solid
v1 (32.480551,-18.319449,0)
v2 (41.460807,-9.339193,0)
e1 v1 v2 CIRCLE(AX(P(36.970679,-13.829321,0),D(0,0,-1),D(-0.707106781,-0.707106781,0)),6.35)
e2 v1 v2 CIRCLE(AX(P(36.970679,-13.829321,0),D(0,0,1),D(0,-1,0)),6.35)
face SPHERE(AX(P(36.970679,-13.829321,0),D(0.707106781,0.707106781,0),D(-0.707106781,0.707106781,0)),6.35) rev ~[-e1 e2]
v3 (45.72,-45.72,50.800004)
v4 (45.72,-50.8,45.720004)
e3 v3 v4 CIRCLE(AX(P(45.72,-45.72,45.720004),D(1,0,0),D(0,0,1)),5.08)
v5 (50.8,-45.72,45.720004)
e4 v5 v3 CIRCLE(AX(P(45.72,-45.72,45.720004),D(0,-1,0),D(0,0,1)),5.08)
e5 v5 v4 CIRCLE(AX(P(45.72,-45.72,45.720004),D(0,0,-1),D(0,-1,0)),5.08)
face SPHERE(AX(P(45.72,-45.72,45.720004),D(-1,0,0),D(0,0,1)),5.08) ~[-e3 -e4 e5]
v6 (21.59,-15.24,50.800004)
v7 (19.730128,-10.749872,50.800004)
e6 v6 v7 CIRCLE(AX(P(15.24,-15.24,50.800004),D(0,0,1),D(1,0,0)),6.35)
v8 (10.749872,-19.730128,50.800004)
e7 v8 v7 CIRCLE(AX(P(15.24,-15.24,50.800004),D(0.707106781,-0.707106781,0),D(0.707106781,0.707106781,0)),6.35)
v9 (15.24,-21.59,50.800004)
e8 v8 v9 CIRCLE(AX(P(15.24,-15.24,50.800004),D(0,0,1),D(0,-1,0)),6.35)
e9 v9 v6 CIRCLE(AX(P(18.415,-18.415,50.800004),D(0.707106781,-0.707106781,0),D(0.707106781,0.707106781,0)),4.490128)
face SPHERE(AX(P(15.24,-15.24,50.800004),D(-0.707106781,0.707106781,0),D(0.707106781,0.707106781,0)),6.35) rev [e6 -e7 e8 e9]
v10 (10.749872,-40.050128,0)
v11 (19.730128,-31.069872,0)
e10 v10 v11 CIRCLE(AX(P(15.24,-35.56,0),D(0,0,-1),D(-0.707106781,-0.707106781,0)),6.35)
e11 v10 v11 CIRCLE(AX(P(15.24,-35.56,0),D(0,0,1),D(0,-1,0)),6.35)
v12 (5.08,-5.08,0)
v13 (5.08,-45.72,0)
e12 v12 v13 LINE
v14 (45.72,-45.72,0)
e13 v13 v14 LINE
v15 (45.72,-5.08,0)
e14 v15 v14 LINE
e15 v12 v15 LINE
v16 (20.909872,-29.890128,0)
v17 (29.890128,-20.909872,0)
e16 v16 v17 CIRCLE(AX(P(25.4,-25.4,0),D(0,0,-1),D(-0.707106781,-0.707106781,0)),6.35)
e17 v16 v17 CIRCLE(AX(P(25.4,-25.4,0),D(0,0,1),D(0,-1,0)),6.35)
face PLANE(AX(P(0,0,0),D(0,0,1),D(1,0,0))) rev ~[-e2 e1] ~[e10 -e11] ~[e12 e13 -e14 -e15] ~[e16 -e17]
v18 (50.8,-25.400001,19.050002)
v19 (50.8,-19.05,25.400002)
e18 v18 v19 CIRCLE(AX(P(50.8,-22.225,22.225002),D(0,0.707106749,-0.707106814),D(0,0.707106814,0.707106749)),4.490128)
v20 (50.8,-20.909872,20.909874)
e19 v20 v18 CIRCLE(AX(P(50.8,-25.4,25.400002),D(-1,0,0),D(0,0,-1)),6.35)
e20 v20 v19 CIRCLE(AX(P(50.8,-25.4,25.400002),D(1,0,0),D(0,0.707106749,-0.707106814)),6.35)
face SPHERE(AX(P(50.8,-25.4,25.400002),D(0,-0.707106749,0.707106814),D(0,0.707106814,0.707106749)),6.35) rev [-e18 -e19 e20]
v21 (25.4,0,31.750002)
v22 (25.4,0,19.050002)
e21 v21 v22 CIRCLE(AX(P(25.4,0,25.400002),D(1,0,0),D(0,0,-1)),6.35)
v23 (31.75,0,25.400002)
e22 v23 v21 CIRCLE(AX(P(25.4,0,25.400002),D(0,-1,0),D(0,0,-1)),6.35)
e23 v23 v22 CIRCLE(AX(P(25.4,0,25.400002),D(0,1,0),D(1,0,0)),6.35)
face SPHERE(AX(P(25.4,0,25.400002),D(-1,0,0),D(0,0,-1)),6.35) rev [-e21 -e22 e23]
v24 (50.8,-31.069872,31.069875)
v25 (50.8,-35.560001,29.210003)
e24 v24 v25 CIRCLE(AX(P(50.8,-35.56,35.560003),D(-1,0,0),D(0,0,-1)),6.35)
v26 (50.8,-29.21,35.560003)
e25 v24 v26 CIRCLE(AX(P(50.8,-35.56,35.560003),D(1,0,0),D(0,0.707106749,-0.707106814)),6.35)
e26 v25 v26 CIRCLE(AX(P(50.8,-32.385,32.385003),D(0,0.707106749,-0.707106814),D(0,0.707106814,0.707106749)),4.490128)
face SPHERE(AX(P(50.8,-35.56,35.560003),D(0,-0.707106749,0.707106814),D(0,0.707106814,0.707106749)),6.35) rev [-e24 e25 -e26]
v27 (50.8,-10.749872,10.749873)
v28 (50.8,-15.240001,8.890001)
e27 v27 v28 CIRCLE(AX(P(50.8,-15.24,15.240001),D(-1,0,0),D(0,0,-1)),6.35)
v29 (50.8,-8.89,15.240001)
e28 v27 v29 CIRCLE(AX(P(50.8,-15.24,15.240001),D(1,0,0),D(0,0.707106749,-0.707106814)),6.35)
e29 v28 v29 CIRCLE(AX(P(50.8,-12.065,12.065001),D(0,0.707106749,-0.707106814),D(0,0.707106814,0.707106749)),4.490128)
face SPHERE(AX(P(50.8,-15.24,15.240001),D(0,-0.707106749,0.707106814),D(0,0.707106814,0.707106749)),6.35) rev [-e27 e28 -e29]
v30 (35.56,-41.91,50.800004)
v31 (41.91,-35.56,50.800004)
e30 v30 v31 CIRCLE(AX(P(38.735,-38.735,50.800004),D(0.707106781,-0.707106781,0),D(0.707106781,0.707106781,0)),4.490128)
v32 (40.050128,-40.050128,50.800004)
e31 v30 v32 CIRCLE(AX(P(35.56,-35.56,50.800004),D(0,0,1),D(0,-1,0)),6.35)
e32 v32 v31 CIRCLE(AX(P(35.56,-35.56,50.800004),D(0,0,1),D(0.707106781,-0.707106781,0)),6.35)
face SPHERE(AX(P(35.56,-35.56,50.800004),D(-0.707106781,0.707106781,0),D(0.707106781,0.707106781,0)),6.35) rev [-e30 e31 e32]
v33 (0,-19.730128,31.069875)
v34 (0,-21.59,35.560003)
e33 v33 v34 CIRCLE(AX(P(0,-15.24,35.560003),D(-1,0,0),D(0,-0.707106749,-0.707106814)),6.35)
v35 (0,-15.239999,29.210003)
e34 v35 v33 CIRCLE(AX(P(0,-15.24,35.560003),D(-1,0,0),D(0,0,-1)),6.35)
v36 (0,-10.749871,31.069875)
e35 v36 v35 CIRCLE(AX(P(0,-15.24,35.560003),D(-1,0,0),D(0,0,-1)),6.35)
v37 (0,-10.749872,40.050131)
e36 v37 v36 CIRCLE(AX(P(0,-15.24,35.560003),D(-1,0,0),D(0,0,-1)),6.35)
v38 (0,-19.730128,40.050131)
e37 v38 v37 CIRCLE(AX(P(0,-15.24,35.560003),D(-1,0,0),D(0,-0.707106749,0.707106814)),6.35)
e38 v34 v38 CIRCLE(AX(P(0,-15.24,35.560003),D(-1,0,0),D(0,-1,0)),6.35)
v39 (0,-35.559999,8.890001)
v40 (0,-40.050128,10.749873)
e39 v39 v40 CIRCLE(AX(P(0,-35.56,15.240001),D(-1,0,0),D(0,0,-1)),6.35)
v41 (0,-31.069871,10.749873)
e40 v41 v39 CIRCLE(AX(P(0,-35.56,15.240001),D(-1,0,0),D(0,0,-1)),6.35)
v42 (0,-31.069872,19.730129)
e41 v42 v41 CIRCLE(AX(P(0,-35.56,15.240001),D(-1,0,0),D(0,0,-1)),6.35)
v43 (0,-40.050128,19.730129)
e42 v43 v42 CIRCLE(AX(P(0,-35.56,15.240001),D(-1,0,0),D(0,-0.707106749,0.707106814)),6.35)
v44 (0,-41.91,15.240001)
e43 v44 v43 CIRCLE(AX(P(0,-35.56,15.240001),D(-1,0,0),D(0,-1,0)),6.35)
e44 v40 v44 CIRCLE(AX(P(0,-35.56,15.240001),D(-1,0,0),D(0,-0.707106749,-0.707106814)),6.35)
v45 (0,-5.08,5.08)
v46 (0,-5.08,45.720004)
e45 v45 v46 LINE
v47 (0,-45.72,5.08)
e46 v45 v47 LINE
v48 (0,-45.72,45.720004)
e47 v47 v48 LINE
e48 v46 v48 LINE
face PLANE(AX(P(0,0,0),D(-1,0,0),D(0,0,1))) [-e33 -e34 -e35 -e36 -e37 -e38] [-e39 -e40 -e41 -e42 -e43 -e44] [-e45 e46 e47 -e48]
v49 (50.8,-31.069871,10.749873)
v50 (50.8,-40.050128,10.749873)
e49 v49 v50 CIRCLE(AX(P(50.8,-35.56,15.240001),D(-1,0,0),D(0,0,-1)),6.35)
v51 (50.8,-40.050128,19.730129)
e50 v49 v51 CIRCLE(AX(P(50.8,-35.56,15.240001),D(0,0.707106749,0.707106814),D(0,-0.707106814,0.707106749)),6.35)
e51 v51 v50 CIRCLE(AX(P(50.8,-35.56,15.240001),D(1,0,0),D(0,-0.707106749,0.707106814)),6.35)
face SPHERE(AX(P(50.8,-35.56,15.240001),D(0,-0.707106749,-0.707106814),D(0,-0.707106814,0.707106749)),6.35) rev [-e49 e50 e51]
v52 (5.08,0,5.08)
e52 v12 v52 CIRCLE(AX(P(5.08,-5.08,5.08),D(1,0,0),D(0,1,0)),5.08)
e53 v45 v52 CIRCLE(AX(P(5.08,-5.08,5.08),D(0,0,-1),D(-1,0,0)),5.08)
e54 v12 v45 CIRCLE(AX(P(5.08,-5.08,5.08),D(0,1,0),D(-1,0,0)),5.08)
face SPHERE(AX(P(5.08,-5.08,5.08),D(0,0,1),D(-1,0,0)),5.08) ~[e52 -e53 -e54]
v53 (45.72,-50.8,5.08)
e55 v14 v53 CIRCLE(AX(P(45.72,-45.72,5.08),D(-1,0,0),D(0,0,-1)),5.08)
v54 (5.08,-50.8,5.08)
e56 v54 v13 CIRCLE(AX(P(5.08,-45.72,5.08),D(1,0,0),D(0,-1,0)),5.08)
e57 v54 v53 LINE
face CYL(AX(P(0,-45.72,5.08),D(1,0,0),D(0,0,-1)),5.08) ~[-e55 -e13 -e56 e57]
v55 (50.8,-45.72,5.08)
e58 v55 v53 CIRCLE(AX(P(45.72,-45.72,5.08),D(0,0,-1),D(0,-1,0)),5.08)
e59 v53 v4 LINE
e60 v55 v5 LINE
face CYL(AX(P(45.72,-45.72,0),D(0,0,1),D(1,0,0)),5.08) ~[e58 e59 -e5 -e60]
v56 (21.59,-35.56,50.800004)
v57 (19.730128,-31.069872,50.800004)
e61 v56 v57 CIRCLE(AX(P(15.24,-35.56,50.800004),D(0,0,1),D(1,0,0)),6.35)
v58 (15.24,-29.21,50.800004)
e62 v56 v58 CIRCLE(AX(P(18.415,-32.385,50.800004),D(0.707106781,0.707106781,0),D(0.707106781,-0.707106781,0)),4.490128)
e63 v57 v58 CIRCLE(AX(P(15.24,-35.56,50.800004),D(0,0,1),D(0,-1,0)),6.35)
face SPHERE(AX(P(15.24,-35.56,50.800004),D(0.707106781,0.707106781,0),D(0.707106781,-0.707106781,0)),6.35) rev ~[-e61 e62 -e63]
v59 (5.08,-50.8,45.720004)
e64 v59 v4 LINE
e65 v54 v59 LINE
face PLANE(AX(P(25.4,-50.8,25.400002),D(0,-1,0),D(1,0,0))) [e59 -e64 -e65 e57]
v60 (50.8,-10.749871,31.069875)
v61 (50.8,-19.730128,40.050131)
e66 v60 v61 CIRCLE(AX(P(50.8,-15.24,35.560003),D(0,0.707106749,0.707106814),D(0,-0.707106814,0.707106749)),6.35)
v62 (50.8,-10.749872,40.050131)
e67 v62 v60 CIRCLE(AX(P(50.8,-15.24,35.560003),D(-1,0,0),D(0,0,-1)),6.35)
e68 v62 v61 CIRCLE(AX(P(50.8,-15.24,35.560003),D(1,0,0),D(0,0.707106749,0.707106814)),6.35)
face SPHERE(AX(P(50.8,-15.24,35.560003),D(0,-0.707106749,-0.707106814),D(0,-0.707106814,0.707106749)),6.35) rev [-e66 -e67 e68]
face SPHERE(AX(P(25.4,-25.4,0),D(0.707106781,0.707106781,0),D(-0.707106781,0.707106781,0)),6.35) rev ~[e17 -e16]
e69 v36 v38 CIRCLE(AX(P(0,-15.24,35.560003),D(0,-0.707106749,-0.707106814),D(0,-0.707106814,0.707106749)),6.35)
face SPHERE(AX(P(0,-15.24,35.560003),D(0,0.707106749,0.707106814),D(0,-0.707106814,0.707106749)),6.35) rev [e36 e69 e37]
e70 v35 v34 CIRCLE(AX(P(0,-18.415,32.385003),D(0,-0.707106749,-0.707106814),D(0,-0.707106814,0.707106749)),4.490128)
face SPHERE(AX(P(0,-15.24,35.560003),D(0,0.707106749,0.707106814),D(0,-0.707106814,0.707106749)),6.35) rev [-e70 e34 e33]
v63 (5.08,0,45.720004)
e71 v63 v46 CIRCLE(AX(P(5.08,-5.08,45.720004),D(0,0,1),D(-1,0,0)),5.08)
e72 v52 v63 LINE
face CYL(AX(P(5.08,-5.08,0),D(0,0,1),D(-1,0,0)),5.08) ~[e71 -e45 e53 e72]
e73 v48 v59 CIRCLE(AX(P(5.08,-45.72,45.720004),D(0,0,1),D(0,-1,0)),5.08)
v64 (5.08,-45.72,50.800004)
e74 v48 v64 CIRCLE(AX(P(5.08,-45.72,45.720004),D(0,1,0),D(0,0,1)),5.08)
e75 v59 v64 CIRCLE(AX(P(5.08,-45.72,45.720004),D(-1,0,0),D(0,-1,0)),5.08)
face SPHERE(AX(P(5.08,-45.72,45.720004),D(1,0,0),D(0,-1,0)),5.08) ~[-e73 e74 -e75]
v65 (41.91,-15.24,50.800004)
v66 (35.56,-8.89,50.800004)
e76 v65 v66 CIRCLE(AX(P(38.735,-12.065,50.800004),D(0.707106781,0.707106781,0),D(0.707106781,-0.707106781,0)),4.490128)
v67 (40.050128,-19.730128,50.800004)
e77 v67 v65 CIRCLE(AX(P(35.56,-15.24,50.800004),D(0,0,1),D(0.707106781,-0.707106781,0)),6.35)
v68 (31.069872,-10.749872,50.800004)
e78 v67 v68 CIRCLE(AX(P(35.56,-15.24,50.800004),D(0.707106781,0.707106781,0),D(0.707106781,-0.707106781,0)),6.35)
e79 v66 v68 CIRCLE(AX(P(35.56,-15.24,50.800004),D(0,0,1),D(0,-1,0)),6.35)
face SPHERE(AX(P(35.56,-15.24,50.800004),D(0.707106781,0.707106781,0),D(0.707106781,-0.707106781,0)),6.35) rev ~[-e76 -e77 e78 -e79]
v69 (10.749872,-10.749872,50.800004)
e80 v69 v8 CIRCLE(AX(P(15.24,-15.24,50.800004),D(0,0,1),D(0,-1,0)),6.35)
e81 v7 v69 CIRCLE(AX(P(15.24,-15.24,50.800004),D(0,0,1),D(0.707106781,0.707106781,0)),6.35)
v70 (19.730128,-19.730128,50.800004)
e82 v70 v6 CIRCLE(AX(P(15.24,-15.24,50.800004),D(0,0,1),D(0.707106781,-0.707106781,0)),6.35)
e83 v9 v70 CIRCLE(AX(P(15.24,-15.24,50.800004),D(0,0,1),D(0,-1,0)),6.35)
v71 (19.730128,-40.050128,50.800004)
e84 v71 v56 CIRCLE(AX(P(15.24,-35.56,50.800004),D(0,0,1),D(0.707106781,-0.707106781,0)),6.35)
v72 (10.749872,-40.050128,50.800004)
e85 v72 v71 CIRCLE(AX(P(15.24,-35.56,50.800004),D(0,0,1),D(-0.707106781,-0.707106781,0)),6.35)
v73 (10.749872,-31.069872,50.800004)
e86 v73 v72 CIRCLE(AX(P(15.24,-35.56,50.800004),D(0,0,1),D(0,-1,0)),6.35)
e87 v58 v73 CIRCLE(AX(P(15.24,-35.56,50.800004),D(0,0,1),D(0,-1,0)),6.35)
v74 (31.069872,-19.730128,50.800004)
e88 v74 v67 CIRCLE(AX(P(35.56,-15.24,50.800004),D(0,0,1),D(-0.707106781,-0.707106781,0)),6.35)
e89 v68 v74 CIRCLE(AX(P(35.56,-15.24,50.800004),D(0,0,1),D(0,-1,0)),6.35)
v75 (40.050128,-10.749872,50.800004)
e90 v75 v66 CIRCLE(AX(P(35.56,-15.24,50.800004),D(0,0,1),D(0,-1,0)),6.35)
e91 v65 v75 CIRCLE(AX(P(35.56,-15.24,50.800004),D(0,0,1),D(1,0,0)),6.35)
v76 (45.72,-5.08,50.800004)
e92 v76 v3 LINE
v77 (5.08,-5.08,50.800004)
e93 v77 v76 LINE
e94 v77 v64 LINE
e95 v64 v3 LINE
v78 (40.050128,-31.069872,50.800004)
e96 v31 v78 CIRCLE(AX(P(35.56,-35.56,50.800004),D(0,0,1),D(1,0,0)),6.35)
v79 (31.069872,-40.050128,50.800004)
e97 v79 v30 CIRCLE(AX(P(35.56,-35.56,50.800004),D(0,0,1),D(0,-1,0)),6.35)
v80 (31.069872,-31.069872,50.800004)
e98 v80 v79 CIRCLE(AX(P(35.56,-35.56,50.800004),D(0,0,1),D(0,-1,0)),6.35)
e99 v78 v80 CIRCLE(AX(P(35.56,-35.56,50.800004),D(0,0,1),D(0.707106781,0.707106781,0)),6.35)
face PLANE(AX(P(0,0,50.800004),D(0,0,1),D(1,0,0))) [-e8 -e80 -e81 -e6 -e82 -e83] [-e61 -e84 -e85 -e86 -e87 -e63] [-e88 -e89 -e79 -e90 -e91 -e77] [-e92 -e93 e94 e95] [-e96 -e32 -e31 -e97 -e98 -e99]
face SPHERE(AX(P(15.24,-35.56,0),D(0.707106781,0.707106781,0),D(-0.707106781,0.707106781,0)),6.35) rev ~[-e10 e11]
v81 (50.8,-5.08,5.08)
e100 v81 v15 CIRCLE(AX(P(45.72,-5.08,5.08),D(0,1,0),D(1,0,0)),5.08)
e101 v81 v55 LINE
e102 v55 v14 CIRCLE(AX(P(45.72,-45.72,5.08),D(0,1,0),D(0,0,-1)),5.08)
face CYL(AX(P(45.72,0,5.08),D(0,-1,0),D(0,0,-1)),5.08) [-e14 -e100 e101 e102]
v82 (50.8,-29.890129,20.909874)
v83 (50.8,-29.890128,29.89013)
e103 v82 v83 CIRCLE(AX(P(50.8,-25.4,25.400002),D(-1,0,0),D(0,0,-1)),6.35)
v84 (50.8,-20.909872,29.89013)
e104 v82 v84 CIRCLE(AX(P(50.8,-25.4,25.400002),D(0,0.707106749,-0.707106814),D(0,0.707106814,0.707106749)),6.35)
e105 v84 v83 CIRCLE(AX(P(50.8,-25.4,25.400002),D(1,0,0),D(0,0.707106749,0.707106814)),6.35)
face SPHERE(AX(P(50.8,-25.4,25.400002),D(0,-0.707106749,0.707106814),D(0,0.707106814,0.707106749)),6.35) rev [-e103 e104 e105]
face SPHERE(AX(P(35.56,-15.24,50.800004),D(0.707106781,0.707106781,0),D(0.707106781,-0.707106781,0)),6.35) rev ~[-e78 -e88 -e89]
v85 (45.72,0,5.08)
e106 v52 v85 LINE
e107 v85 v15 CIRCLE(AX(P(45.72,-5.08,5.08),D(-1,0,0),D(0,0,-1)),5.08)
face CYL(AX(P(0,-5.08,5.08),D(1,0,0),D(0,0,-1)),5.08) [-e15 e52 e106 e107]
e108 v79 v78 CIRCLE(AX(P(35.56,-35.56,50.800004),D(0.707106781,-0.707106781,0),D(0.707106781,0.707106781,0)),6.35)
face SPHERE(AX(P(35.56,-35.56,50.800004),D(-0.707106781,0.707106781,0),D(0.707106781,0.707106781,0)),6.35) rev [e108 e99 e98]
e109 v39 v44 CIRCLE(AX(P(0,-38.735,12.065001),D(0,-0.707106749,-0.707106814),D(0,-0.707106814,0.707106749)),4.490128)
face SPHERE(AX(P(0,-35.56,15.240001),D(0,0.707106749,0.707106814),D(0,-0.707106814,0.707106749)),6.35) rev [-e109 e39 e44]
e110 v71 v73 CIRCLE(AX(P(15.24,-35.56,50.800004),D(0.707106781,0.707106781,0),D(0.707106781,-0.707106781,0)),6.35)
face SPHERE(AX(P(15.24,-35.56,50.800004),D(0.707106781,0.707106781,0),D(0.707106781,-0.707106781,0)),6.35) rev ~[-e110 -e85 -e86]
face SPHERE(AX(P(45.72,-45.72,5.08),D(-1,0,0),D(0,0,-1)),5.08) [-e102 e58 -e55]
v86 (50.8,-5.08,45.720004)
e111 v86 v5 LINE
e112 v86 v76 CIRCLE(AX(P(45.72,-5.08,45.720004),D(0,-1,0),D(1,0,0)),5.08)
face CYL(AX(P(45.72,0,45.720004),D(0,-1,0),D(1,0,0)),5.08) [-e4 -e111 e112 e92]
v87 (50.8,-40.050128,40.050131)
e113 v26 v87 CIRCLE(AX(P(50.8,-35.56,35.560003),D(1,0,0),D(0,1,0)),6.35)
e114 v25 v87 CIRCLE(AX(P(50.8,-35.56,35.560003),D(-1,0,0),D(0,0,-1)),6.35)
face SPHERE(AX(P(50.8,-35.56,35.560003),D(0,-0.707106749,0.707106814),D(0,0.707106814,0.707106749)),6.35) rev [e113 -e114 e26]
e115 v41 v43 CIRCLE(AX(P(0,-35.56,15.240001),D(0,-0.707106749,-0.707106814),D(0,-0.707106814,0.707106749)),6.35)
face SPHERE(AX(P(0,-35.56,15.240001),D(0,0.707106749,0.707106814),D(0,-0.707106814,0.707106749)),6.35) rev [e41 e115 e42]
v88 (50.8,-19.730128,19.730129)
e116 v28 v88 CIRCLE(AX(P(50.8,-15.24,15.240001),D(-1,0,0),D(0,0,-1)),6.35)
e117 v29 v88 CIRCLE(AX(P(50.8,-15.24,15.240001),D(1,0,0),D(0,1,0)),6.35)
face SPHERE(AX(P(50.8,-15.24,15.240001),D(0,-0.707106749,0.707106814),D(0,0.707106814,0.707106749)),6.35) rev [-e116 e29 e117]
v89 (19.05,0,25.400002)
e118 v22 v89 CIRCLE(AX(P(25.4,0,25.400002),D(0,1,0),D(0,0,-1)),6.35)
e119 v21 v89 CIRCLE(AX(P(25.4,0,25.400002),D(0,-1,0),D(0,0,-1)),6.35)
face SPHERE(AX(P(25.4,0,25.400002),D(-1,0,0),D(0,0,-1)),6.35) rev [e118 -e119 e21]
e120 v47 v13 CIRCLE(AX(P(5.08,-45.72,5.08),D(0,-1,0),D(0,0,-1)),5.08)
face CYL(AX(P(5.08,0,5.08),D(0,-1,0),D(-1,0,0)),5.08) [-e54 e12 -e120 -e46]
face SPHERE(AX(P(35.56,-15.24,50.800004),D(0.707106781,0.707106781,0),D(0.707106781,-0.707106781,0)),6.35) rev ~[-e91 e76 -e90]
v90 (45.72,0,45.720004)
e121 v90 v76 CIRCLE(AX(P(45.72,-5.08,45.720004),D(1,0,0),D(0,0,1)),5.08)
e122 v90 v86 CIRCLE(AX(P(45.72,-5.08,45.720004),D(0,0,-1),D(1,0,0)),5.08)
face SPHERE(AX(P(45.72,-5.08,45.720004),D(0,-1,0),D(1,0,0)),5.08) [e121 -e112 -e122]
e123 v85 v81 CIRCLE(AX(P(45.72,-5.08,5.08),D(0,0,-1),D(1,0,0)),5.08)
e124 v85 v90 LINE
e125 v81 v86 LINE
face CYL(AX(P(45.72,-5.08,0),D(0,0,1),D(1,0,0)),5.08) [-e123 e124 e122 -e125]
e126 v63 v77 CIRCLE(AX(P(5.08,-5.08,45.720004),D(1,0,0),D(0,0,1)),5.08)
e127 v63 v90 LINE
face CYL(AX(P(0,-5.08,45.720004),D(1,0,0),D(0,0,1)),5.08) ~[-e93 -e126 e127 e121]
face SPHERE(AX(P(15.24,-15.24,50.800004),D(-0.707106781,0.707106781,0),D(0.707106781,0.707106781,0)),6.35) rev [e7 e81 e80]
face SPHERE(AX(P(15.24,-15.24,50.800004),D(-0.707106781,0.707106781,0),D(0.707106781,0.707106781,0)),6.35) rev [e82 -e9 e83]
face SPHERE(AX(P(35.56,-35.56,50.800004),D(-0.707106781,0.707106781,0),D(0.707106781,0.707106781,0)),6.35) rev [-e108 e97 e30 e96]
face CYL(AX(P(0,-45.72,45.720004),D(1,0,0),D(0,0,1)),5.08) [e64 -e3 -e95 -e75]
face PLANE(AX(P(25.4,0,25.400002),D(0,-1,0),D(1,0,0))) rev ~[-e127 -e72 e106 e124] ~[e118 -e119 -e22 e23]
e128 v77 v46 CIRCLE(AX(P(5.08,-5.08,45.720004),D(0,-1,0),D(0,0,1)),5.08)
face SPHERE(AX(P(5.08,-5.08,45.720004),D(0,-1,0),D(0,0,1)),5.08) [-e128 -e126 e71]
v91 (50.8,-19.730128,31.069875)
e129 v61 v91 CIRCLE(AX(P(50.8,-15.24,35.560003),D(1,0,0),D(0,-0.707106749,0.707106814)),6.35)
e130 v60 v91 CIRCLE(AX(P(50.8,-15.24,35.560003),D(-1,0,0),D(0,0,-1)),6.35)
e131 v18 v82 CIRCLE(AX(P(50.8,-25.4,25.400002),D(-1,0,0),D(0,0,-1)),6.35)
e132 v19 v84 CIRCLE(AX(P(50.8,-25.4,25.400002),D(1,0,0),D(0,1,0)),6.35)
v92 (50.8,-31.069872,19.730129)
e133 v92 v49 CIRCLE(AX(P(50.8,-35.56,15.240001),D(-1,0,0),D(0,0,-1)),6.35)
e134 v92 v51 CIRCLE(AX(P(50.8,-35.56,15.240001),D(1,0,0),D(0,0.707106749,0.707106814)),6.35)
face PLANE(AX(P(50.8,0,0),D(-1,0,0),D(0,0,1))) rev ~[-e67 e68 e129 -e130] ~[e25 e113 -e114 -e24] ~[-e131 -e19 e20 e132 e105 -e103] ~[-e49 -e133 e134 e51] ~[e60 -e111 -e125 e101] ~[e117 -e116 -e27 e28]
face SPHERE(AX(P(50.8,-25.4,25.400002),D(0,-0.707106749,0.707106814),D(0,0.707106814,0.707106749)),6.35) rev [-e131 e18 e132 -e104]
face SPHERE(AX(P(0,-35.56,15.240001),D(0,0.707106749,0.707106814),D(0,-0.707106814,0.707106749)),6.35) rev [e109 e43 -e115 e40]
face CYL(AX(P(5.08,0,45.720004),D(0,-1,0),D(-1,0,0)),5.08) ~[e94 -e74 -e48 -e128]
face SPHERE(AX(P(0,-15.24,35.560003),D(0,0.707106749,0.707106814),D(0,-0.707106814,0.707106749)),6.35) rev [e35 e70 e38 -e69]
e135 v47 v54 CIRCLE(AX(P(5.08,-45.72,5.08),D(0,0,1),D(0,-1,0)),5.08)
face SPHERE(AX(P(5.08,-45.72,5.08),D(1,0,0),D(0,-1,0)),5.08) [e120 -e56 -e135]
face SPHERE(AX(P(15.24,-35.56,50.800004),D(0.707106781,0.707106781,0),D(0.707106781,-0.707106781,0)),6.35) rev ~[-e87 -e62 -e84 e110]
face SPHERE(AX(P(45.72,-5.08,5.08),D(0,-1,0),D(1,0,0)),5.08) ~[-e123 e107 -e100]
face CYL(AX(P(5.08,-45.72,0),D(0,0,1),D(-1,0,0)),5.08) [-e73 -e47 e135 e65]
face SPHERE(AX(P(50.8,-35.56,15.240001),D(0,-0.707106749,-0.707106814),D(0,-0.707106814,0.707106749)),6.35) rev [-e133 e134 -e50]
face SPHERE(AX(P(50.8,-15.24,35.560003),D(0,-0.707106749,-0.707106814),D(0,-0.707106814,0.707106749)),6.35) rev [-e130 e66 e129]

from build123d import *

# Parameters (mm, degrees)
F0_W     = 50.8
F0_H     = 50.8000037277
F1_DEPTH = 50.8
F2_R     = 5.08


with BuildPart() as f1:
    # F0 (on Front) → F1 (new body)
    with BuildSketch(Plane.XZ):
        with Locations((25.4, 25.4000018639)):
            Rectangle(F0_W, F0_H)
    extrude(amount=F1_DEPTH)

    # F2
    f2_edges = [f1.edges().sort_by_distance(p)[0] for p in [
        (25.4, -50.8, 50.800004),
        (50.8, -25.4, 50.800004),
        (25.4, -50.8, 0),
        (50.8, -25.4, 0),
        (50.8, -50.8, 25.400002),
        (50.8, 0, 25.400002),
        (0, -50.8, 25.400002),
        (0, -25.4, 50.800004),
        (25.4, 0, 50.800004),
        (0, 0, 25.400002),
        (0, -25.4, 0),
        (25.4, 0, 0),
    ]]
    fillet(f2_edges, radius=F2_R)

    # F4 (on face) → F5 (revolve, cut)
    with BuildSketch(Plane(origin=(0, 0, 0), x_dir=(0, -1, 0), z_dir=(-1, 0, 0))):
        with BuildLine():
            ThreePointArc((19.7301278546, 40.0501310623), (15.24, 41.9100027958), (10.7498721454, 40.0501310623))
            Line((10.7498721454, 40.0501310623), (15.24, 35.5600027958))
            Line((15.24, 35.5600027958), (19.7301278546, 40.0501310623))
        make_face()
        with BuildLine():
            Line((19.7301278546, 40.0501310623), (15.24, 35.5600027958))
            Line((15.24, 35.5600027958), (19.7301278546, 31.0698745293))
            ThreePointArc((19.7301278546, 31.0698745293), (21.1066349757, 33.1299628658), (21.59, 35.5600027958))
            ThreePointArc((21.59, 35.5600027958), (21.1066349757, 37.9900427259), (19.7301278546, 40.0501310623))
        make_face()
        with BuildLine():
            ThreePointArc((40.0501278546, 19.7301291984), (35.56, 21.5900009319), (31.0698721454, 19.7301291984))
            Line((31.0698721454, 19.7301291984), (35.56, 15.2400009319))
            Line((35.56, 15.2400009319), (40.0501278546, 19.7301291984))
        make_face()
        with BuildLine():
            Line((40.0501278546, 19.7301291984), (35.56, 15.2400009319))
            Line((35.56, 15.2400009319), (40.0501278546, 10.7498726655))
            ThreePointArc((40.0501278546, 10.7498726655), (41.4266349757, 12.8099610019), (41.91, 15.2400009319))
            ThreePointArc((41.91, 15.2400009319), (41.4266349757, 17.670040862), (40.0501278546, 19.7301291984))
        make_face()
    revolve(axis=Axis((0, -25.4, 25.4000018639), (0, -0.7071067488, -0.7071068136)), mode=Mode.SUBTRACT)

    # F6 (on face) → F7 (revolve, cut)
    with BuildSketch(Plane(origin=(0, 0, 0), x_dir=(1, 0, 0), z_dir=(0, 0, -1))):
        with BuildLine():
            Line((19.7301280605, 31.0698719395), (10.7498719395, 40.0501280605))
            ThreePointArc((10.7498719395, 40.0501280605), (10.7498719395, 31.0698719395), (19.7301280605, 31.0698719395))
        make_face()
        with BuildLine():
            Line((29.8901280605, 20.9098719395), (20.9098719395, 29.8901280605))
            ThreePointArc((20.9098719395, 29.8901280605), (20.9098719395, 20.9098719395), (29.8901280605, 20.9098719395))
        make_face()
        with BuildLine():
            ThreePointArc((32.4805509633, 18.3194490367), (32.4805509633, 9.3391929156), (41.4608070844, 9.3391929156))
            Line((41.4608070844, 9.3391929156), (32.4805509633, 18.3194490367))
        make_face()
    revolve(axis=Axis((25.4, -25.4, 0), (0.7071067812, 0.7071067812, 0)), mode=Mode.SUBTRACT)

    # F8 (on face) → F9 (revolve, cut)
    with BuildSketch(Plane.XY.offset(50.8000037277)):
        with BuildLine():
            ThreePointArc((19.7301280605, -10.7498719395), (15.24, -8.89), (10.7498719395, -10.7498719395))
            Line((10.7498719395, -10.7498719395), (15.24, -15.24))
            Line((15.24, -15.24), (19.7301280605, -10.7498719395))
        make_face()
        with BuildLine():
            Line((19.7301280605, -10.7498719395), (15.24, -15.24))
            Line((15.24, -15.24), (19.7301280605, -19.7301280605))
            ThreePointArc((19.7301280605, -19.7301280605), (21.1066350314, -17.6700397955), (21.59, -15.24))
            ThreePointArc((21.59, -15.24), (21.1066350314, -12.8099602045), (19.7301280605, -10.7498719395))
        make_face()
        with BuildLine():
            ThreePointArc((40.0501280605, -31.0698719395), (35.56, -29.21), (31.0698719395, -31.0698719395))
            Line((31.0698719395, -31.0698719395), (35.56, -35.56))
            Line((35.56, -35.56), (40.0501280605, -31.0698719395))
        make_face()
        with BuildLine():
            Line((40.0501280605, -31.0698719395), (35.56, -35.56))
            Line((35.56, -35.56), (40.0501280605, -40.0501280605))
            ThreePointArc((40.0501280605, -40.0501280605), (41.4266350314, -37.9900397955), (41.91, -35.56))
            ThreePointArc((41.91, -35.56), (41.4266350314, -33.1299602045), (40.0501280605, -31.0698719395))
        make_face()
    revolve(axis=Axis((25.4, -25.4, 50.8000037277), (0.7071067812, -0.7071067812, 0)), mode=Mode.SUBTRACT)

    # F10 (on face) → F11 (revolve, cut)
    with BuildSketch(Plane(origin=(0, 0, 0), x_dir=(-1, 0, 0), z_dir=(0, 1, 0))):
        with BuildLine():
            Line((-19.05, 25.4000018639), (-31.75, 25.4000018639))
            ThreePointArc((-31.75, 25.4000018639), (-29.8901280605, 20.9098738033), (-25.4, 19.0500018639))
            ThreePointArc((-25.4, 19.0500018639), (-20.9098719395, 20.9098738033), (-19.05, 25.4000018639))
        make_face()
    revolve(axis=Axis((25.4, 0, 25.4000018639), (1, 0, 0)), mode=Mode.SUBTRACT)

    # F12 (on face) → F13 (revolve, cut)
    with BuildSketch(Plane.YZ.offset(50.8)):
        with BuildLine():
            ThreePointArc((-29.21, 35.5600027958), (-33.12996007, 41.4266377715), (-40.0501278546, 40.0501310623))
            Line((-40.0501278546, 40.0501310623), (-31.0698721454, 31.0698745293))
            ThreePointArc((-31.0698721454, 31.0698745293), (-29.6933650243, 33.1299628658), (-29.21, 35.5600027958))
        make_face()
        with BuildLine():
            ThreePointArc((-20.9098721454, 29.8901301303), (-25.4, 31.7500018639), (-29.8901278546, 29.8901301303))
            Line((-29.8901278546, 29.8901301303), (-25.4, 25.4000018639))
            Line((-25.4, 25.4000018639), (-20.9098721454, 29.8901301303))
        make_face()
        with BuildLine():
            Line((-20.9098721454, 29.8901301303), (-25.4, 25.4000018639))
            Line((-25.4, 25.4000018639), (-20.9098721454, 20.9098735974))
            ThreePointArc((-20.9098721454, 20.9098735974), (-19.5333650243, 22.9699619338), (-19.05, 25.4000018639))
            ThreePointArc((-19.05, 25.4000018639), (-19.5333650243, 27.8300417939), (-20.9098721454, 29.8901301303))
        make_face()
        with BuildLine():
            Line((-19.7301278546, 19.7301291984), (-10.7498721454, 10.7498726655))
            ThreePointArc((-10.7498721454, 10.7498726655), (-9.3733650243, 12.8099610019), (-8.89, 15.2400009319))
            ThreePointArc((-8.89, 15.2400009319), (-12.80996007, 21.1066359077), (-19.7301278546, 19.7301291984))
        make_face()
    revolve(axis=Axis((50.8, -25.4, 25.4000018639), (0, 0.7071067488, -0.7071068136)), mode=Mode.SUBTRACT)

    # F14 (on face) → F15 (revolve, cut)
    with BuildSketch(Plane.YZ.offset(50.8)):
        with BuildLine():
            Line((-40.0501278546, 19.7301291984), (-35.56, 15.2400009319))
            Line((-35.56, 15.2400009319), (-31.0698721454, 19.7301291984))
            ThreePointArc((-31.0698721454, 19.7301291984), (-35.56, 21.5900009319), (-40.0501278546, 19.7301291984))
        make_face()
        with BuildLine():
            ThreePointArc((-40.0501278546, 19.7301291984), (-41.91, 15.2400009319), (-40.0501278546, 10.7498726655))
            Line((-40.0501278546, 10.7498726655), (-35.56, 15.2400009319))
            Line((-35.56, 15.2400009319), (-40.0501278546, 19.7301291984))
        make_face()
        with BuildLine():
            Line((-15.24, 35.5600027958), (-19.7301278546, 40.0501310623))
            ThreePointArc((-19.7301278546, 40.0501310623), (-21.59, 35.5600027958), (-19.7301278546, 31.0698745293))
            Line((-19.7301278546, 31.0698745293), (-15.24, 35.5600027958))
        make_face()
        with BuildLine():
            ThreePointArc((-10.7498721454, 40.0501310623), (-15.24, 41.9100027958), (-19.7301278546, 40.0501310623))
            Line((-19.7301278546, 40.0501310623), (-15.24, 35.5600027958))
            Line((-15.24, 35.5600027958), (-10.7498721454, 40.0501310623))
        make_face()
    revolve(axis=Axis((50.8, -25.4, 25.4000018639), (0, 0.7071067488, 0.7071068136)), mode=Mode.SUBTRACT)

    # F8 (on face) → F16 (revolve, cut)
    with BuildSketch(Plane.XY.offset(50.8000037277)):
        with BuildLine():
            Line((40.0501280605, -10.7498719395), (35.56, -15.24))
            Line((35.56, -15.24), (40.0501280605, -19.7301280605))
            ThreePointArc((40.0501280605, -19.7301280605), (41.4266350314, -17.6700397955), (41.91, -15.24))
            ThreePointArc((41.91, -15.24), (41.4266350314, -12.8099602045), (40.0501280605, -10.7498719395))
        make_face()
        with BuildLine():
            Line((35.56, -15.24), (31.0698719395, -19.7301280605))
            ThreePointArc((31.0698719395, -19.7301280605), (35.56, -21.59), (40.0501280605, -19.7301280605))
            Line((40.0501280605, -19.7301280605), (35.56, -15.24))
        make_face()
        with BuildLine():
            ThreePointArc((21.59, -35.56), (21.1066350314, -33.1299602045), (19.7301280605, -31.0698719395))
            Line((19.7301280605, -31.0698719395), (15.24, -35.56))
            Line((15.24, -35.56), (19.7301280605, -40.0501280605))
            ThreePointArc((19.7301280605, -40.0501280605), (21.1066350314, -37.9900397955), (21.59, -35.56))
        make_face()
        with BuildLine():
            Line((19.7301280605, -40.0501280605), (15.24, -35.56))
            Line((15.24, -35.56), (10.7498719395, -40.0501280605))
            ThreePointArc((10.7498719395, -40.0501280605), (15.24, -41.91), (19.7301280605, -40.0501280605))
        make_face()
    revolve(axis=Axis((25.4, -25.4, 50.8000037277), (0.7071067812, 0.7071067812, 0)), mode=Mode.SUBTRACT)


solid = f1.part
